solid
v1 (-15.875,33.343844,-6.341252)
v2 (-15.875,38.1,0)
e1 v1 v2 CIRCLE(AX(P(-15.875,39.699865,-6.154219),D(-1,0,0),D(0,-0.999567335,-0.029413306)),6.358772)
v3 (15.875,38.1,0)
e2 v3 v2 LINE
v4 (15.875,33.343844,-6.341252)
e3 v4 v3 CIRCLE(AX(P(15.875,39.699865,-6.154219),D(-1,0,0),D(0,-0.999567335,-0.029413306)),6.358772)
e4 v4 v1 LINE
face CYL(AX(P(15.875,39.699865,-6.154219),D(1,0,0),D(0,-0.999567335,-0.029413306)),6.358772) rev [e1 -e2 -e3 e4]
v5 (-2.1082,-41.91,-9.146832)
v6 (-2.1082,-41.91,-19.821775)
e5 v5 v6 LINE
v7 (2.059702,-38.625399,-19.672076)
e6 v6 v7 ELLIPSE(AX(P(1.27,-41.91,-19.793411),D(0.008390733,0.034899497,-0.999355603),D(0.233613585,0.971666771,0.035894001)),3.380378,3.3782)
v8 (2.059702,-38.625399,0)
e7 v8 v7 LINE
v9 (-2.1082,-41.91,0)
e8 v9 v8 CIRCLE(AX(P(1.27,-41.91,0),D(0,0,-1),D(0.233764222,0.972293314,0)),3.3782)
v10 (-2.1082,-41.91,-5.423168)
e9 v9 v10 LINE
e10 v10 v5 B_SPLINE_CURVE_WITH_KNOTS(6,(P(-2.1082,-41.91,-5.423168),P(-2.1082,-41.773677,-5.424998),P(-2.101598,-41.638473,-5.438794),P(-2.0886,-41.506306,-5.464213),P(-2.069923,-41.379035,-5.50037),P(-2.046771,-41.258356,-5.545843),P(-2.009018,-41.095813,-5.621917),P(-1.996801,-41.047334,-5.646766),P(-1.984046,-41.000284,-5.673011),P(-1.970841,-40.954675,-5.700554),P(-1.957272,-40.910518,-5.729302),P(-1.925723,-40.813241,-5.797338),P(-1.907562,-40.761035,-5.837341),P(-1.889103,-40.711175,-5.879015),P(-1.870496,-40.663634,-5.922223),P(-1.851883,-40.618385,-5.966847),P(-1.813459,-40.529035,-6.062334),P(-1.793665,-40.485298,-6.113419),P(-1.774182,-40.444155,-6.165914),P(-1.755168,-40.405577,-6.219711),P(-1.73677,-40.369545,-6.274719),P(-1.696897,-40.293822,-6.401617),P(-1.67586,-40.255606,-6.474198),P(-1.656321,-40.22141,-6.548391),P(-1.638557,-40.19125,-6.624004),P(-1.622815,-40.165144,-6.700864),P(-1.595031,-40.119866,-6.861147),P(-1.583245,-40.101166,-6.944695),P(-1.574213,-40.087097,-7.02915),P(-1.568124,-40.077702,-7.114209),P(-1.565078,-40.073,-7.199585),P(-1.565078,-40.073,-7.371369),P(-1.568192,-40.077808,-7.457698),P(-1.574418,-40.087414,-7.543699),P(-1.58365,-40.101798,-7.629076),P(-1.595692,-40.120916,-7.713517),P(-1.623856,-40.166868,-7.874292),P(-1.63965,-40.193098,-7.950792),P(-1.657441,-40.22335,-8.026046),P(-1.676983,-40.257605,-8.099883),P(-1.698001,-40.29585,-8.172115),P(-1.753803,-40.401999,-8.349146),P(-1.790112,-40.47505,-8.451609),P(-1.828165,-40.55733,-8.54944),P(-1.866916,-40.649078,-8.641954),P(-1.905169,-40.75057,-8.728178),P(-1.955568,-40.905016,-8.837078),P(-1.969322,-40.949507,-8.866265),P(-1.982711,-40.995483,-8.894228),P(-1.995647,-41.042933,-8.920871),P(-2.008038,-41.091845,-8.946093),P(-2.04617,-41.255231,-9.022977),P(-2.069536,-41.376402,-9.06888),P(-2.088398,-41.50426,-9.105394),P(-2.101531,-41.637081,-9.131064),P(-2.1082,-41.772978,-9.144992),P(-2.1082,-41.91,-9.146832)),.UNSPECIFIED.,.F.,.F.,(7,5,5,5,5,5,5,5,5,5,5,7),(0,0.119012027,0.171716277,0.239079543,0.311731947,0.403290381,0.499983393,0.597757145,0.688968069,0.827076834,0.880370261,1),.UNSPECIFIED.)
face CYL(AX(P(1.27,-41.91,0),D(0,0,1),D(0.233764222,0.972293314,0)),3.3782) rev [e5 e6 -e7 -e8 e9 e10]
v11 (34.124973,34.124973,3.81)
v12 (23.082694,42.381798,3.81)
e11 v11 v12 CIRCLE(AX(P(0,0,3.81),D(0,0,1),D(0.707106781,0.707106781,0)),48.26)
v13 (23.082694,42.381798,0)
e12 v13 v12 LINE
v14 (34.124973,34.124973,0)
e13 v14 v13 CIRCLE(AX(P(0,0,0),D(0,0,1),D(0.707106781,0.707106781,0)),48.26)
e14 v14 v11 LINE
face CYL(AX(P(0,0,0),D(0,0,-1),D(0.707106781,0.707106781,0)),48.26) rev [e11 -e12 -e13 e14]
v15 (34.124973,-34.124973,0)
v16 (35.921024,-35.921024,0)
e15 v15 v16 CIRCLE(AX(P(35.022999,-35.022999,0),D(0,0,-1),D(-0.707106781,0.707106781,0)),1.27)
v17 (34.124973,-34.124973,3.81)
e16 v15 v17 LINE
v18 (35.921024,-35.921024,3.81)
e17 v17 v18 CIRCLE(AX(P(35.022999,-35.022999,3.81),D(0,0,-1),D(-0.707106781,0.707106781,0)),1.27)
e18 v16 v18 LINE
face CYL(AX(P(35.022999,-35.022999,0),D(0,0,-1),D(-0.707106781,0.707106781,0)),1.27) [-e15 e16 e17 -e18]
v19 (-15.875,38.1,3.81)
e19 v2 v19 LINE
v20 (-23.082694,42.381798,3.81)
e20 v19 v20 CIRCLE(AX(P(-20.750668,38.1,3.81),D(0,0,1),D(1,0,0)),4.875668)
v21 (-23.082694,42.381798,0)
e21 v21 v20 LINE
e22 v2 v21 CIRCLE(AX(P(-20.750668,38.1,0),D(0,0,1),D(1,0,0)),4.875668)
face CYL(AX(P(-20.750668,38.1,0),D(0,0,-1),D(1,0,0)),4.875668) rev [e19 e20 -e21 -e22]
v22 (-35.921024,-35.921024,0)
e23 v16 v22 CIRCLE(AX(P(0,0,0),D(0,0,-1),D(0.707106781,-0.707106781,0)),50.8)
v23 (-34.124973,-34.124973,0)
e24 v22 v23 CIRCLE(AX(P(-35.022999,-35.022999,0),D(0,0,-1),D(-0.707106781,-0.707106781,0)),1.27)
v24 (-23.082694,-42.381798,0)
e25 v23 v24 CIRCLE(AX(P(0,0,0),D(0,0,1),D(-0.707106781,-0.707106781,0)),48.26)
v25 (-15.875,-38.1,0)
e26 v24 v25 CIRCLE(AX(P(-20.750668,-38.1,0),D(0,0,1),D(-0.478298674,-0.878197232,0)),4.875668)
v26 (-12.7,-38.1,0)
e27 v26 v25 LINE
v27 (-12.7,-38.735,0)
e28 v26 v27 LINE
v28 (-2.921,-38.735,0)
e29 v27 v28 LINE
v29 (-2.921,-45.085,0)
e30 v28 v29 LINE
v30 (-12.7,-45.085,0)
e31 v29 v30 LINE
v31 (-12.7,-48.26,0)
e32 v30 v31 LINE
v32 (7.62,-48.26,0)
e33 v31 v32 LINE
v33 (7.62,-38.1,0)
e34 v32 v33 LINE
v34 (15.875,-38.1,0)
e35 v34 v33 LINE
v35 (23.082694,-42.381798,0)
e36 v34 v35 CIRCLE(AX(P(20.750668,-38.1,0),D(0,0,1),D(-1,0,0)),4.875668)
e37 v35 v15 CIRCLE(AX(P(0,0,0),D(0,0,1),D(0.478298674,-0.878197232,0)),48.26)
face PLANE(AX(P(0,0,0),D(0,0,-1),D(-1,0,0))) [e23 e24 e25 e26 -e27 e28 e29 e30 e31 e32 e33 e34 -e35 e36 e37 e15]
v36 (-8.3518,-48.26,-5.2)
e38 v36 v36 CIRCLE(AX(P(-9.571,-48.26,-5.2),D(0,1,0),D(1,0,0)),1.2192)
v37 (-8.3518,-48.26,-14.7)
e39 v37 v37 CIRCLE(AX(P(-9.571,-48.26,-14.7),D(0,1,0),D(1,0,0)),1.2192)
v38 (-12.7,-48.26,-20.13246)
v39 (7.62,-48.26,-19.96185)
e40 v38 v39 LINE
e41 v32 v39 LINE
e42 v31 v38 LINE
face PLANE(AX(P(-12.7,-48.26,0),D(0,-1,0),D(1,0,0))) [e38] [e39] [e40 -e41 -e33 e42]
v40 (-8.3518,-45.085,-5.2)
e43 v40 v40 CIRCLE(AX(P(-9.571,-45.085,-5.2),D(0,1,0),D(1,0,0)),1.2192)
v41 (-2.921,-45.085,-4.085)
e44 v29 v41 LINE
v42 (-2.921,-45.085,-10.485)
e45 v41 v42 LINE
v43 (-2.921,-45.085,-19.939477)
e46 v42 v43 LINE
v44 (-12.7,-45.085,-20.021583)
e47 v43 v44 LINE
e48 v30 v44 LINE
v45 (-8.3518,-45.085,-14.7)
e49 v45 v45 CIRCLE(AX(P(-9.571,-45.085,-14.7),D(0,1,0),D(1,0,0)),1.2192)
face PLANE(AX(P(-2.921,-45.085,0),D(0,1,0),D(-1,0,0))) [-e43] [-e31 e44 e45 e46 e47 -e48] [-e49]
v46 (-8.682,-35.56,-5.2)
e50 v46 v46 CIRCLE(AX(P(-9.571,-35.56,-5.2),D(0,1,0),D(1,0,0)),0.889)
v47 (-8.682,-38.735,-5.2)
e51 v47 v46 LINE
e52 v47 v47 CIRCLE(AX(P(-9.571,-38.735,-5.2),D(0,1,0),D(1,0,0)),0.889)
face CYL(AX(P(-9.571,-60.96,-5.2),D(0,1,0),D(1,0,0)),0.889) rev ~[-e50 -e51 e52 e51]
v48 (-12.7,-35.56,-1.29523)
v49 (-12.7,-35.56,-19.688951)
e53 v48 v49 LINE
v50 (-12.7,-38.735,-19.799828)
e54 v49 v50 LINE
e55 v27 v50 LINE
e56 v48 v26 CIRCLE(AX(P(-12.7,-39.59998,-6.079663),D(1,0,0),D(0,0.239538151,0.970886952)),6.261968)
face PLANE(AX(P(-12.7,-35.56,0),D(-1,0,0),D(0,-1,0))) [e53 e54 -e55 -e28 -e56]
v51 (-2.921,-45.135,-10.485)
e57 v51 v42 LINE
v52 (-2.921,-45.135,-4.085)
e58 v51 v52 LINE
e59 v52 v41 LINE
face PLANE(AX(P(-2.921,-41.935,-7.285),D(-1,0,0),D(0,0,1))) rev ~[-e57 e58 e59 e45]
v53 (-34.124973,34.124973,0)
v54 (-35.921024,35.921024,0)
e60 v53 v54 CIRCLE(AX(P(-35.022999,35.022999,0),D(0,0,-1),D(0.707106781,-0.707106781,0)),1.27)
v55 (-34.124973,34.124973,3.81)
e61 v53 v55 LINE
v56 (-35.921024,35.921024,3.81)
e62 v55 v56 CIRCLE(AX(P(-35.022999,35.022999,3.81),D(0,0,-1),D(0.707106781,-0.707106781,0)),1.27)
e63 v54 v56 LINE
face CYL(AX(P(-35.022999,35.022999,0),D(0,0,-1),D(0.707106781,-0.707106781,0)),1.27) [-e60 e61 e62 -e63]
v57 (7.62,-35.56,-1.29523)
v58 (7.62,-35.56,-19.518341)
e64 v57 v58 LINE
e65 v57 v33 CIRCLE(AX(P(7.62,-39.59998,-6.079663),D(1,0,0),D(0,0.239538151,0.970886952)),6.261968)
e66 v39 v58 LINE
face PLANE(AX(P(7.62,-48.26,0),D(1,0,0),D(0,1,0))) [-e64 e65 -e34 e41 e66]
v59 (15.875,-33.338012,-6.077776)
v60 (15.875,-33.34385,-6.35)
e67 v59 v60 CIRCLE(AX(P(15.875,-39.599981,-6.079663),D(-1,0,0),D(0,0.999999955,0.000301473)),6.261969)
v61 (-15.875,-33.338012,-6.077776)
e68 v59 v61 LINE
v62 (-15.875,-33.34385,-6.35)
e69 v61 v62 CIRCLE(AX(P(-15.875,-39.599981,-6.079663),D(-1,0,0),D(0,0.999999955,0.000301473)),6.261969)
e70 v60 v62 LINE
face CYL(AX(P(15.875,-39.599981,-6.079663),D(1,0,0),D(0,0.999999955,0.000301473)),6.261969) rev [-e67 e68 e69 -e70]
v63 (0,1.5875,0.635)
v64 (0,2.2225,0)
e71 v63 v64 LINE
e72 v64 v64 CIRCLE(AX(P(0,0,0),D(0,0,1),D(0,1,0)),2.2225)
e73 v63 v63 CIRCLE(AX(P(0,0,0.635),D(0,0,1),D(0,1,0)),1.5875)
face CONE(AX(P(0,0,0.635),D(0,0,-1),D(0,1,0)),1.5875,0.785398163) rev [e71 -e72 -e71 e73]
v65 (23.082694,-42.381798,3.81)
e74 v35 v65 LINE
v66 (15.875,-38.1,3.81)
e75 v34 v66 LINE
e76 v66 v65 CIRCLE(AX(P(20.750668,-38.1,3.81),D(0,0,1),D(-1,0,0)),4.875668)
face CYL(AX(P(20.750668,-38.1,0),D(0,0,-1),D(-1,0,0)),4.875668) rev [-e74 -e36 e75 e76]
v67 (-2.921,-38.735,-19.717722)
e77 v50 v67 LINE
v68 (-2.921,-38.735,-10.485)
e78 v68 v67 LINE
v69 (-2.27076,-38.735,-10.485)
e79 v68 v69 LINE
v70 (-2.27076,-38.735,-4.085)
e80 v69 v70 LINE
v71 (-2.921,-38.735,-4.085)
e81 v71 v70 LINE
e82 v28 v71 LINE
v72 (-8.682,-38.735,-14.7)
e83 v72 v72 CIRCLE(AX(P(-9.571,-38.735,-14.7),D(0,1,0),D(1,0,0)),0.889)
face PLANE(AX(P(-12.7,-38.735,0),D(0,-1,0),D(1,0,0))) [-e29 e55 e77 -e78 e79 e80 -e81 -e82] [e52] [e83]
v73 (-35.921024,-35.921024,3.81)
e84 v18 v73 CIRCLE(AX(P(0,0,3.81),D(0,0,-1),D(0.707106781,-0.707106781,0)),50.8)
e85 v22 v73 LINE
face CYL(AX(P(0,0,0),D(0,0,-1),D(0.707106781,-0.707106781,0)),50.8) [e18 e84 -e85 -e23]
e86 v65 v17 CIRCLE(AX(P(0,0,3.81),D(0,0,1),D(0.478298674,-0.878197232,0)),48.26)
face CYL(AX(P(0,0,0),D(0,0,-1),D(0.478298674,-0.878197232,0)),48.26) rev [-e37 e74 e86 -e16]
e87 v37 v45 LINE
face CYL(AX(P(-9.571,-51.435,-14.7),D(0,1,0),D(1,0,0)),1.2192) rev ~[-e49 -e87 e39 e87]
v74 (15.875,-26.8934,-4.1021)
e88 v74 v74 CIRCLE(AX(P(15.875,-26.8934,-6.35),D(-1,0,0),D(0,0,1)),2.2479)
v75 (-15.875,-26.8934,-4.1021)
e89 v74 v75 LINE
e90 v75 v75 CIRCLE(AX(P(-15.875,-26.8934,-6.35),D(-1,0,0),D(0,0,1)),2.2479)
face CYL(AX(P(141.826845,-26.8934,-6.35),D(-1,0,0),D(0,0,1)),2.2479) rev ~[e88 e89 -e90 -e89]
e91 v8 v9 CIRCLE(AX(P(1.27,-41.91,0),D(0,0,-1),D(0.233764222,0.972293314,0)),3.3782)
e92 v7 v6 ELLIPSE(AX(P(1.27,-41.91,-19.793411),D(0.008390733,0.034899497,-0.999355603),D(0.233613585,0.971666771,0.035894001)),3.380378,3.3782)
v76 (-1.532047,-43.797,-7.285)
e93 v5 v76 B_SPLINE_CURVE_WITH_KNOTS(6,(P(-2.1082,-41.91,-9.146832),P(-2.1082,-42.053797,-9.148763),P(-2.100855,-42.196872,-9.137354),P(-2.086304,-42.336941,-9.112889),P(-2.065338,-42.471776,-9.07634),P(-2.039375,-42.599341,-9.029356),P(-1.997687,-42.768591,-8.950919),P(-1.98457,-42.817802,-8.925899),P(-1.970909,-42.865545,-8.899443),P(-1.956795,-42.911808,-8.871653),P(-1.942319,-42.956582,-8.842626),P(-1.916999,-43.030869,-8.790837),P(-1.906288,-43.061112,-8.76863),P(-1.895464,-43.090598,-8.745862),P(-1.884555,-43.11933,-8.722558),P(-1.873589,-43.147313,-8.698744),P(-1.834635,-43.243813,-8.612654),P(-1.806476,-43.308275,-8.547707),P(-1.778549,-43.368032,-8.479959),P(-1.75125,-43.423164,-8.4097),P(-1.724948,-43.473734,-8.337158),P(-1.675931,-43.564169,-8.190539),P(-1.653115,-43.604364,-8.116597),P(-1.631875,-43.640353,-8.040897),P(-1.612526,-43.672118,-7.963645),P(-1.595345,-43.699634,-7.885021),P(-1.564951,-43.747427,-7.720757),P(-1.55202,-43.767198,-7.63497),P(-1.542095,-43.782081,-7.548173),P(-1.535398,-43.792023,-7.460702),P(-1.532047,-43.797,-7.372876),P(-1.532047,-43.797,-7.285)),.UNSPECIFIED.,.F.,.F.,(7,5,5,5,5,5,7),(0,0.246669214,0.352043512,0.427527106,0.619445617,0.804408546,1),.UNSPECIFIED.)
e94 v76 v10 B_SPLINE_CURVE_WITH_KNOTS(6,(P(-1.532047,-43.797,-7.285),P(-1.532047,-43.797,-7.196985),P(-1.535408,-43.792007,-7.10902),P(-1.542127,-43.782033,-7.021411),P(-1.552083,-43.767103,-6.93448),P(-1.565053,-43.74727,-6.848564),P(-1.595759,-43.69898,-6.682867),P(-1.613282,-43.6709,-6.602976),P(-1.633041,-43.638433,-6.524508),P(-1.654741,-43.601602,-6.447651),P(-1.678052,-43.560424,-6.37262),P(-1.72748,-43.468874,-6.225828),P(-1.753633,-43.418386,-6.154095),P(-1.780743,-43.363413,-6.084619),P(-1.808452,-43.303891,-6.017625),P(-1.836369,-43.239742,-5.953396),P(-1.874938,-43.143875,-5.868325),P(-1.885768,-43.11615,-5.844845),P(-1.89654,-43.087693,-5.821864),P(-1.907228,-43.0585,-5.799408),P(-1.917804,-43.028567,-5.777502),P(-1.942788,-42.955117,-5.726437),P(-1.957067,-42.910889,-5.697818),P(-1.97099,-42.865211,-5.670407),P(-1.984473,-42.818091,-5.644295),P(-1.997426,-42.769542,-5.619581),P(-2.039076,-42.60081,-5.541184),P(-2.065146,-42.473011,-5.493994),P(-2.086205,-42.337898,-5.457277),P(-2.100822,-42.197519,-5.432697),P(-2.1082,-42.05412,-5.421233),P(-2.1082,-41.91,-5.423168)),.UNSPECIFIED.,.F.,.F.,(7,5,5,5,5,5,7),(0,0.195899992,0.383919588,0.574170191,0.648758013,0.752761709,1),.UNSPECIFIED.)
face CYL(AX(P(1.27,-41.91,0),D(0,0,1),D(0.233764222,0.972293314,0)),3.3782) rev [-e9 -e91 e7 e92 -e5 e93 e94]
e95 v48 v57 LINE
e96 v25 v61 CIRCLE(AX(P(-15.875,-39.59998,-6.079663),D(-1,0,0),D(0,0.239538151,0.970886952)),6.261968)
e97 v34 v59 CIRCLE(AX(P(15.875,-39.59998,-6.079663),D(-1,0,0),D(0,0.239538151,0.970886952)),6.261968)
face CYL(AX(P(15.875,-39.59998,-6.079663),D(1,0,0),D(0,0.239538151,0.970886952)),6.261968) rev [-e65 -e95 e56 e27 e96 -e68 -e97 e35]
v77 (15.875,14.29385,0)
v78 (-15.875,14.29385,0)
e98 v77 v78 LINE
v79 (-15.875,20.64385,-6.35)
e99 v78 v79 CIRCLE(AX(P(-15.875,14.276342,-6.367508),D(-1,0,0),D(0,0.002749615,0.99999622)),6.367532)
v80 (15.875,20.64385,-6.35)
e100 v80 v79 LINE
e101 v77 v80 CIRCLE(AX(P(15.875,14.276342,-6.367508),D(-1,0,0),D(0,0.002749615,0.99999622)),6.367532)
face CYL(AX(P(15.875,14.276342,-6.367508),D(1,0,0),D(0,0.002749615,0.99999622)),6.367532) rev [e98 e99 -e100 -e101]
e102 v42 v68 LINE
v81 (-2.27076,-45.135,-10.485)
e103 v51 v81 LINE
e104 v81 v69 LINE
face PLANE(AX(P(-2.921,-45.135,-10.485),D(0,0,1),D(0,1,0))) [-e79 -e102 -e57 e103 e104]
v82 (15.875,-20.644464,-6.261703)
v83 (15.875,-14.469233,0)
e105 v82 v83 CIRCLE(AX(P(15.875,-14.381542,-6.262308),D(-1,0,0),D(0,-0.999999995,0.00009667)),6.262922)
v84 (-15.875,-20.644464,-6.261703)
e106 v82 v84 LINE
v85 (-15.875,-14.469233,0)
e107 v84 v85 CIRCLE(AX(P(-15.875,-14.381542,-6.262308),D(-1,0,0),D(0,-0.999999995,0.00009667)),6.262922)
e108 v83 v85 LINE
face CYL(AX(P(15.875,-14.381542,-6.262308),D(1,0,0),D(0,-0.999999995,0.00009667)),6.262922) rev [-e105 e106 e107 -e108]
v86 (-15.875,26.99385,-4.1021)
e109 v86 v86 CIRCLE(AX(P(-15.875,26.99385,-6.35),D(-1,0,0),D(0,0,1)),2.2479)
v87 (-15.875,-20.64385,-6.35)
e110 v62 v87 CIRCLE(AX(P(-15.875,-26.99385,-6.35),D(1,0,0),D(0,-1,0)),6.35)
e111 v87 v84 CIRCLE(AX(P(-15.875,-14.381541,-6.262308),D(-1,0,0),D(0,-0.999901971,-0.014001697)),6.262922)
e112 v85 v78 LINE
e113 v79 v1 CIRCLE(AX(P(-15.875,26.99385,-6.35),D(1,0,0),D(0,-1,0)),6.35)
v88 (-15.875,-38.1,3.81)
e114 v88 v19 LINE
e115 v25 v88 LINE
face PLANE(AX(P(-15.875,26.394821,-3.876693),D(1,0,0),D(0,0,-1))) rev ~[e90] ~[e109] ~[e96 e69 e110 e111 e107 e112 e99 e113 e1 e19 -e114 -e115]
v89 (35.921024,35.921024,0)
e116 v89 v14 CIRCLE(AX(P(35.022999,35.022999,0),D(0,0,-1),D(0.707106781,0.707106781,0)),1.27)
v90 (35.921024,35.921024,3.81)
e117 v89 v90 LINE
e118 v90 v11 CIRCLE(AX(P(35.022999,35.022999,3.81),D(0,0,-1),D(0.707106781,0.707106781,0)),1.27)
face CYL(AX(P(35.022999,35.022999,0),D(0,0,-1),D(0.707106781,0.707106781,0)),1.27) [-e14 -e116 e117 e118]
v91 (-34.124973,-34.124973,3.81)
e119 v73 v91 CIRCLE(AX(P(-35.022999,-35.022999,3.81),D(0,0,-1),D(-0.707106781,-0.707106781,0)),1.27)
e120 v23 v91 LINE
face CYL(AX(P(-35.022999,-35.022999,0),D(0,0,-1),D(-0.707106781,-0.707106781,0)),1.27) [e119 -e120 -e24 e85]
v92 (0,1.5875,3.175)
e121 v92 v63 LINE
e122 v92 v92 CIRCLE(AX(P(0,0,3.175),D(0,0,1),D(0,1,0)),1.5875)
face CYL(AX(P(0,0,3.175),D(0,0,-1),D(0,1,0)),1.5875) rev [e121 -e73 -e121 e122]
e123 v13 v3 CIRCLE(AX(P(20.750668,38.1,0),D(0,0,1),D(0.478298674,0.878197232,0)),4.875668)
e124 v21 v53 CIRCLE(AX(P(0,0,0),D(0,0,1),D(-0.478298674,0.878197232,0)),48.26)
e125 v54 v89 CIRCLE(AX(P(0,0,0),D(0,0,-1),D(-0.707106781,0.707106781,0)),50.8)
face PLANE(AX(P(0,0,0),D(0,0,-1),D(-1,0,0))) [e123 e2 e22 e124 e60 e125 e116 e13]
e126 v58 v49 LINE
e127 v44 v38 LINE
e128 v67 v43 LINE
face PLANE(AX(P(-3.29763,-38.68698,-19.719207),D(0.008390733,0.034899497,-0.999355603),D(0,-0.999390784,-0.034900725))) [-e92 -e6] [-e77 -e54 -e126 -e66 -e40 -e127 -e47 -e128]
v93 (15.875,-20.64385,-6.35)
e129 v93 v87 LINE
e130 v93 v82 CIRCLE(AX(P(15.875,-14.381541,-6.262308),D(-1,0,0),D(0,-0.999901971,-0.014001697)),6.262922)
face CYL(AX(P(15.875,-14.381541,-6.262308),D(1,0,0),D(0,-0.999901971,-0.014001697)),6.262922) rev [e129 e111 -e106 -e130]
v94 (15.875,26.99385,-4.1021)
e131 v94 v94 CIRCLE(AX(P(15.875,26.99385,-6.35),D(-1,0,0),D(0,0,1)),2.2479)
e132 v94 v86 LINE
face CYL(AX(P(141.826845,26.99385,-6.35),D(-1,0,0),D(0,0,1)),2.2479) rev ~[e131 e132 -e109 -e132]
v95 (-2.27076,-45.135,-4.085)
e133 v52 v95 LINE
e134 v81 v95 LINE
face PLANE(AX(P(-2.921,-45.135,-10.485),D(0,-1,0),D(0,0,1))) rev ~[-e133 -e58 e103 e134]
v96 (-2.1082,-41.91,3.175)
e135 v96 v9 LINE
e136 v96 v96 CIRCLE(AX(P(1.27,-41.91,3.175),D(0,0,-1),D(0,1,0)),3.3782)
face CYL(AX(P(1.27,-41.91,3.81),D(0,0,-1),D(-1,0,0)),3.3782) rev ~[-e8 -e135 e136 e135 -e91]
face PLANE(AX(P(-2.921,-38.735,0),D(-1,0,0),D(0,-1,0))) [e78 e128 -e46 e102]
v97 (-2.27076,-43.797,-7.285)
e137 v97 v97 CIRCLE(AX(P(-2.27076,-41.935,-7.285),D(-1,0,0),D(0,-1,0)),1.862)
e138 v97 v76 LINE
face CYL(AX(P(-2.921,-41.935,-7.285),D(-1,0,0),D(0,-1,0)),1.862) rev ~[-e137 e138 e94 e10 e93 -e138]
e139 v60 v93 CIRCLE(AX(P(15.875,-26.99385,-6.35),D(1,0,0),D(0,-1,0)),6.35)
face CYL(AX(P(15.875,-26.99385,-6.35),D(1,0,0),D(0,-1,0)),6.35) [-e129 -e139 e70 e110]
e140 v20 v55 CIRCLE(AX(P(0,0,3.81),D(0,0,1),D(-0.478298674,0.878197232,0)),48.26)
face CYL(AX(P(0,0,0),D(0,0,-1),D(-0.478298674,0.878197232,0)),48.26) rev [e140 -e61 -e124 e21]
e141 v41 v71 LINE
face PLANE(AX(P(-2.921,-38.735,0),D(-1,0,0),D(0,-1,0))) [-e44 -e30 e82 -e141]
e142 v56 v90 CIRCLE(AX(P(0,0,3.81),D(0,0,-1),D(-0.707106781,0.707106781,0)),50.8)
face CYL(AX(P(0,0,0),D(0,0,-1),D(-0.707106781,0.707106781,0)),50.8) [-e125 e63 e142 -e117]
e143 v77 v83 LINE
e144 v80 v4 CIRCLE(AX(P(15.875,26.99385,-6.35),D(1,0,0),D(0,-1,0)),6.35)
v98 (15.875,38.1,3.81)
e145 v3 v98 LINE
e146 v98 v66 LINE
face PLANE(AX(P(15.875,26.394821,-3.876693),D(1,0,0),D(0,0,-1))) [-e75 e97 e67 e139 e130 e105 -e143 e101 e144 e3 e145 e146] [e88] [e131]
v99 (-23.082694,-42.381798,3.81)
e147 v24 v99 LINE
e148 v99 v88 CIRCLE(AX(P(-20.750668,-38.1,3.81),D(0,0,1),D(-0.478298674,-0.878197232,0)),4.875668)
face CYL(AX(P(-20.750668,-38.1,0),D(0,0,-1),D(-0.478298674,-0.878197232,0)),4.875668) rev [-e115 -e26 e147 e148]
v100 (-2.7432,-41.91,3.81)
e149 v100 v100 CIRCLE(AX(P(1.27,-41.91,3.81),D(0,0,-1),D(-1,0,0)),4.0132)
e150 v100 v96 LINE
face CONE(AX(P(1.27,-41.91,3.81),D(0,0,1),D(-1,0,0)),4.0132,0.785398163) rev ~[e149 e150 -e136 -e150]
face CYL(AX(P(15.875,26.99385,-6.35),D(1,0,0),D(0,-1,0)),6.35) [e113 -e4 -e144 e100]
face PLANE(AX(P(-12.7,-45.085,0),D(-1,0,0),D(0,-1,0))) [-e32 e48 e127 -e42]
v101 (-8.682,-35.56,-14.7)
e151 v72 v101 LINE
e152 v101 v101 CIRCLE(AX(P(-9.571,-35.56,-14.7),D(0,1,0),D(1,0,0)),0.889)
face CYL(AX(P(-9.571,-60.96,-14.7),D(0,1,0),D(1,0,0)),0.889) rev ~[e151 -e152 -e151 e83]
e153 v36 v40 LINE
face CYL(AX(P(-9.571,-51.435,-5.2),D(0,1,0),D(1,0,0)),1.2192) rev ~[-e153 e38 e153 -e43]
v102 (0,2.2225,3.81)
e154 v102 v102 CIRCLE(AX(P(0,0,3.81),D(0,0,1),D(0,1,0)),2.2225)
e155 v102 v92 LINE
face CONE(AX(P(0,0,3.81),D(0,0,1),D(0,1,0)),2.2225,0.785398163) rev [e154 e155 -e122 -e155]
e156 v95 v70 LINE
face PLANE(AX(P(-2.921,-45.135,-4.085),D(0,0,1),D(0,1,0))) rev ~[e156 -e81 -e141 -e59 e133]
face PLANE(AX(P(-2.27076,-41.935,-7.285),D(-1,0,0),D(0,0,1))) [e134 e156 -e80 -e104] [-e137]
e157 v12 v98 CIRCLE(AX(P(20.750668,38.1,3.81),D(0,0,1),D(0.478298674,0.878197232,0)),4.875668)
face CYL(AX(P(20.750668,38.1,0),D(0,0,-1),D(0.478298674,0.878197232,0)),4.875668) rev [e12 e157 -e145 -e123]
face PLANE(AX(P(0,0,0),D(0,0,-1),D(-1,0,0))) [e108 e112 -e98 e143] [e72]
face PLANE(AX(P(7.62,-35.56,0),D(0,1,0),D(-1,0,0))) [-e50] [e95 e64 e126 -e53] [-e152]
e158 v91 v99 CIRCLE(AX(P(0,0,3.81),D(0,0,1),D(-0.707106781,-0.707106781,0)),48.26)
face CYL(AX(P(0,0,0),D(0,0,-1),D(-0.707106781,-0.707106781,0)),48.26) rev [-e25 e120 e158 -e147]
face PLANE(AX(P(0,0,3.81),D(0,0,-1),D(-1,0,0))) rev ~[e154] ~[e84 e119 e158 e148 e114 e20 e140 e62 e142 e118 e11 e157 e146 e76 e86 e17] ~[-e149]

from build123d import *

# Parameters (mm, degrees)
MAIN_BODY_DEPTH                 = 3.81
BOSSES_FOR_SCREWS_DEPTH         = 31.75
F_8_CLEARANCE_HOLE_FOR_SCREWS_D = 4.4958
SWITCH_HOLDER_BODY_REACH        = 65.711
SKETCH19_R                      = 3.3782
F_1_4_QR_PIN_HOLE_D             = 6.7564
F_1_4_QR_PIN_HOLE_CSINK_D       = 8.0264
F_1_4_QR_PIN_HOLE_CSINK_ANGLE   = 90
SKETCH25_R                      = 1.862
PLUNGER_HOLE_DEPTH              = 2.54
SKETCH33_W                      = 6.4
SKETCH33_H                      = 6.4
SWITCH_BODY_CLEARANCE_DEPTH     = 0.65024
F_2_CLEARANCE_HOLE1_D           = 2.4384
F_2_CLEARANCE_HOLE1_DEPTH       = 3.175
TAP_DRILL_FOR_2_56_TAP1_D       = 1.778
TAP_DRILL_FOR_2_56_TAP1_DEPTH   = 12.7


with BuildPart() as part:
    # Sketch3 → Main Body (new body)
    with BuildSketch(Plane.XY):
        with BuildLine():
            Line((-15.875, -38.1), (-15.875, 38.1))
            ThreePointArc((-15.875, 38.1), (-18.260491841, 42.291797068), (-23.082694008, 42.38179842))
            ThreePointArc((-23.082694008, 42.38179842), (-28.900226452, 38.649767283), (-34.12497326, 34.12497326))
            ThreePointArc((-34.12497326, 34.12497326), (-35.921024484, 34.12497326), (-35.921024484, 35.921024484))
            ThreePointArc((-35.921024484, 35.921024484), (0, 50.8), (35.921024484, 35.921024484))
            ThreePointArc((35.921024484, 35.921024484), (35.921024484, 34.12497326), (34.12497326, 34.12497326))
            ThreePointArc((34.12497326, 34.12497326), (28.900226452, 38.649767283), (23.082694008, 42.38179842))
            ThreePointArc((23.082694008, 42.38179842), (18.260491841, 42.291797068), (15.875, 38.1))
            Line((15.875, 38.1), (15.875, -38.1))
            ThreePointArc((15.875, -38.1), (18.260491841, -42.291797068), (23.082694008, -42.38179842))
            ThreePointArc((23.082694008, -42.38179842), (28.900226452, -38.649767283), (34.12497326, -34.12497326))
            ThreePointArc((34.12497326, -34.12497326), (35.921024484, -34.12497326), (35.921024484, -35.921024484))
            ThreePointArc((35.921024484, -35.921024484), (0, -50.8), (-35.921024484, -35.921024484))
            ThreePointArc((-35.921024484, -35.921024484), (-35.921024484, -34.12497326), (-34.12497326, -34.12497326))
            ThreePointArc((-34.12497326, -34.12497326), (-28.900226452, -38.649767283), (-23.082694008, -42.38179842))
            ThreePointArc((-23.082694008, -42.38179842), (-18.260491841, -42.291797068), (-15.875, -38.1))
        make_face()
    extrude(amount=MAIN_BODY_DEPTH)

    # Sketch5 → Bosses for screws (add)
    with BuildSketch(Plane(origin=(15.875, 0, 0), x_dir=(0, 0, -1), z_dir=(1, 0, 0))):
        with BuildLine():
            Line((0, 38.1), (0, 26.99385))
            Line((0, 26.99385), (0, 14.29385))
            ThreePointArc((0, 14.29385), (1.86498297, 18.77886703), (6.35, 20.64385))
            ThreePointArc((6.35, 20.64385), (12.699998494, 26.998224058), (6.341251887, 33.343843974))
            ThreePointArc((6.341251887, 33.343843974), (2.338844583, 34.612930799), (0, 38.1))
        make_face()
        with BuildLine():
            ThreePointArc((6.261703048, -20.644463916), (1.864650947, -18.840779739), (0, -14.469233029))
            Line((0, -14.469233029), (0, -26.99385))
            Line((0, -26.99385), (0, -38.1))
            ThreePointArc((0, -38.1), (2.217611083, -34.670801888), (6.077775616, -33.338012189))
            ThreePointArc((6.077775616, -33.338012189), (6.213919542, -33.33945129), (6.35, -33.34385))
            ThreePointArc((6.35, -33.34385), (12.7, -26.99385), (6.35, -20.64385))
            ThreePointArc((6.35, -20.64385), (6.305852606, -20.644312569), (6.261703048, -20.644463916))
        make_face()
    extrude(amount=-BOSSES_FOR_SCREWS_DEPTH)

    # #8 Clearance Hole for screws (through all)
    with Locations(Plane(origin=(15.875, 0, 0), x_dir=(0, 0, -1), z_dir=(1, 0, 0))):
        with Locations((6.35, 26.99385), (6.35, -26.893399733)):
            Hole(F_8_CLEARANCE_HOLE_FOR_SCREWS_D / 2)

    # Sketch10 → 1/8 (0.125) Diameter let down hole (revolve, cut)
    with BuildSketch(Plane.YZ):
        Polygon((0, 0), (0, 3.81), (2.2225, 3.81), (1.5875, 3.175), (1.5875, 0.635), (2.2225, 0), align=None)
    revolve(axis=Axis((0, 0, -6.35), (0, 0, 1)), mode=Mode.SUBTRACT)

    # Switch holder body: up to this plane
    switch_holder_body_end = Plane(origin=(-3.297630422, -38.686979812, -19.719207275), z_dir=(0.008390733100517729, 0.03489949670250099, -0.9993556027400597))
    # Sketch19 → Switch holder body (add, up to the surface)
    with BuildSketch(Plane(origin=(0, 0, 0), x_dir=(-1, 0, 0), z_dir=(0, 0, -1)), mode=Mode.PRIVATE) as switch_holder_body_sk1:
        Polygon((12.7, -38.735), (2.921, -38.735), (2.921, -45.085), (12.7, -45.085), (12.7, -48.26), (-7.62, -48.26), (-7.62, -35.56), (12.7, -35.56), align=None)
        with Locations(Location((-1.27, -41.91, 0), (0, 0, 103.518789087))):
            Circle(SKETCH19_R, mode=Mode.SUBTRACT)
    switch_holder_body_tool1 = split(extrude(switch_holder_body_sk1.sketch, amount=SWITCH_HOLDER_BODY_REACH, mode=Mode.PRIVATE), bisect_by=switch_holder_body_end, keep=Keep.BOTH, mode=Mode.PRIVATE)
    add(switch_holder_body_tool1.solids().sort_by_distance((-7.8105, -38.495377, 0))[0])

    # 1/4 QR pin hole (through all)
    with Locations(Plane.XY.offset(3.81)):
        with Locations((1.27, -41.91)):
            CounterSinkHole(F_1_4_QR_PIN_HOLE_D / 2, F_1_4_QR_PIN_HOLE_CSINK_D / 2, counter_sink_angle=F_1_4_QR_PIN_HOLE_CSINK_ANGLE)

    # Sketch25 → plunger hole (cut)
    with BuildSketch(Plane.ZY.offset(2.921)):
        with Locations(Location((-7.285, -41.935, 0), (0, 0, 270))):
            Circle(SKETCH25_R)
    extrude(amount=-PLUNGER_HOLE_DEPTH, mode=Mode.SUBTRACT)

    # Sketch33 → switch body clearance (cut)
    with BuildSketch(Plane.ZY.offset(2.921)):
        with Locations((-7.285, -41.935)):
            Rectangle(SKETCH33_W, SKETCH33_H)
    extrude(amount=-SWITCH_BODY_CLEARANCE_DEPTH, mode=Mode.SUBTRACT)

    # #2 Clearance Hole1
    with Locations(Plane(origin=(0, -48.26, 0), x_dir=(-1, 0, 0), z_dir=(0, -1, 0))):
        with Locations((9.571, 14.7), (9.571, 5.2)):
            Hole(F_2_CLEARANCE_HOLE1_D / 2, depth=F_2_CLEARANCE_HOLE1_DEPTH)

    # Tap Drill for #2-56 Tap1
    with Locations(Plane(origin=(0, -48.26, 0), x_dir=(-1, 0, 0), z_dir=(0, -1, 0))):
        with Locations((9.571, 14.7), (9.571, 5.2)):
            Hole(TAP_DRILL_FOR_2_56_TAP1_D / 2, depth=TAP_DRILL_FOR_2_56_TAP1_DEPTH)


solid = part.part
